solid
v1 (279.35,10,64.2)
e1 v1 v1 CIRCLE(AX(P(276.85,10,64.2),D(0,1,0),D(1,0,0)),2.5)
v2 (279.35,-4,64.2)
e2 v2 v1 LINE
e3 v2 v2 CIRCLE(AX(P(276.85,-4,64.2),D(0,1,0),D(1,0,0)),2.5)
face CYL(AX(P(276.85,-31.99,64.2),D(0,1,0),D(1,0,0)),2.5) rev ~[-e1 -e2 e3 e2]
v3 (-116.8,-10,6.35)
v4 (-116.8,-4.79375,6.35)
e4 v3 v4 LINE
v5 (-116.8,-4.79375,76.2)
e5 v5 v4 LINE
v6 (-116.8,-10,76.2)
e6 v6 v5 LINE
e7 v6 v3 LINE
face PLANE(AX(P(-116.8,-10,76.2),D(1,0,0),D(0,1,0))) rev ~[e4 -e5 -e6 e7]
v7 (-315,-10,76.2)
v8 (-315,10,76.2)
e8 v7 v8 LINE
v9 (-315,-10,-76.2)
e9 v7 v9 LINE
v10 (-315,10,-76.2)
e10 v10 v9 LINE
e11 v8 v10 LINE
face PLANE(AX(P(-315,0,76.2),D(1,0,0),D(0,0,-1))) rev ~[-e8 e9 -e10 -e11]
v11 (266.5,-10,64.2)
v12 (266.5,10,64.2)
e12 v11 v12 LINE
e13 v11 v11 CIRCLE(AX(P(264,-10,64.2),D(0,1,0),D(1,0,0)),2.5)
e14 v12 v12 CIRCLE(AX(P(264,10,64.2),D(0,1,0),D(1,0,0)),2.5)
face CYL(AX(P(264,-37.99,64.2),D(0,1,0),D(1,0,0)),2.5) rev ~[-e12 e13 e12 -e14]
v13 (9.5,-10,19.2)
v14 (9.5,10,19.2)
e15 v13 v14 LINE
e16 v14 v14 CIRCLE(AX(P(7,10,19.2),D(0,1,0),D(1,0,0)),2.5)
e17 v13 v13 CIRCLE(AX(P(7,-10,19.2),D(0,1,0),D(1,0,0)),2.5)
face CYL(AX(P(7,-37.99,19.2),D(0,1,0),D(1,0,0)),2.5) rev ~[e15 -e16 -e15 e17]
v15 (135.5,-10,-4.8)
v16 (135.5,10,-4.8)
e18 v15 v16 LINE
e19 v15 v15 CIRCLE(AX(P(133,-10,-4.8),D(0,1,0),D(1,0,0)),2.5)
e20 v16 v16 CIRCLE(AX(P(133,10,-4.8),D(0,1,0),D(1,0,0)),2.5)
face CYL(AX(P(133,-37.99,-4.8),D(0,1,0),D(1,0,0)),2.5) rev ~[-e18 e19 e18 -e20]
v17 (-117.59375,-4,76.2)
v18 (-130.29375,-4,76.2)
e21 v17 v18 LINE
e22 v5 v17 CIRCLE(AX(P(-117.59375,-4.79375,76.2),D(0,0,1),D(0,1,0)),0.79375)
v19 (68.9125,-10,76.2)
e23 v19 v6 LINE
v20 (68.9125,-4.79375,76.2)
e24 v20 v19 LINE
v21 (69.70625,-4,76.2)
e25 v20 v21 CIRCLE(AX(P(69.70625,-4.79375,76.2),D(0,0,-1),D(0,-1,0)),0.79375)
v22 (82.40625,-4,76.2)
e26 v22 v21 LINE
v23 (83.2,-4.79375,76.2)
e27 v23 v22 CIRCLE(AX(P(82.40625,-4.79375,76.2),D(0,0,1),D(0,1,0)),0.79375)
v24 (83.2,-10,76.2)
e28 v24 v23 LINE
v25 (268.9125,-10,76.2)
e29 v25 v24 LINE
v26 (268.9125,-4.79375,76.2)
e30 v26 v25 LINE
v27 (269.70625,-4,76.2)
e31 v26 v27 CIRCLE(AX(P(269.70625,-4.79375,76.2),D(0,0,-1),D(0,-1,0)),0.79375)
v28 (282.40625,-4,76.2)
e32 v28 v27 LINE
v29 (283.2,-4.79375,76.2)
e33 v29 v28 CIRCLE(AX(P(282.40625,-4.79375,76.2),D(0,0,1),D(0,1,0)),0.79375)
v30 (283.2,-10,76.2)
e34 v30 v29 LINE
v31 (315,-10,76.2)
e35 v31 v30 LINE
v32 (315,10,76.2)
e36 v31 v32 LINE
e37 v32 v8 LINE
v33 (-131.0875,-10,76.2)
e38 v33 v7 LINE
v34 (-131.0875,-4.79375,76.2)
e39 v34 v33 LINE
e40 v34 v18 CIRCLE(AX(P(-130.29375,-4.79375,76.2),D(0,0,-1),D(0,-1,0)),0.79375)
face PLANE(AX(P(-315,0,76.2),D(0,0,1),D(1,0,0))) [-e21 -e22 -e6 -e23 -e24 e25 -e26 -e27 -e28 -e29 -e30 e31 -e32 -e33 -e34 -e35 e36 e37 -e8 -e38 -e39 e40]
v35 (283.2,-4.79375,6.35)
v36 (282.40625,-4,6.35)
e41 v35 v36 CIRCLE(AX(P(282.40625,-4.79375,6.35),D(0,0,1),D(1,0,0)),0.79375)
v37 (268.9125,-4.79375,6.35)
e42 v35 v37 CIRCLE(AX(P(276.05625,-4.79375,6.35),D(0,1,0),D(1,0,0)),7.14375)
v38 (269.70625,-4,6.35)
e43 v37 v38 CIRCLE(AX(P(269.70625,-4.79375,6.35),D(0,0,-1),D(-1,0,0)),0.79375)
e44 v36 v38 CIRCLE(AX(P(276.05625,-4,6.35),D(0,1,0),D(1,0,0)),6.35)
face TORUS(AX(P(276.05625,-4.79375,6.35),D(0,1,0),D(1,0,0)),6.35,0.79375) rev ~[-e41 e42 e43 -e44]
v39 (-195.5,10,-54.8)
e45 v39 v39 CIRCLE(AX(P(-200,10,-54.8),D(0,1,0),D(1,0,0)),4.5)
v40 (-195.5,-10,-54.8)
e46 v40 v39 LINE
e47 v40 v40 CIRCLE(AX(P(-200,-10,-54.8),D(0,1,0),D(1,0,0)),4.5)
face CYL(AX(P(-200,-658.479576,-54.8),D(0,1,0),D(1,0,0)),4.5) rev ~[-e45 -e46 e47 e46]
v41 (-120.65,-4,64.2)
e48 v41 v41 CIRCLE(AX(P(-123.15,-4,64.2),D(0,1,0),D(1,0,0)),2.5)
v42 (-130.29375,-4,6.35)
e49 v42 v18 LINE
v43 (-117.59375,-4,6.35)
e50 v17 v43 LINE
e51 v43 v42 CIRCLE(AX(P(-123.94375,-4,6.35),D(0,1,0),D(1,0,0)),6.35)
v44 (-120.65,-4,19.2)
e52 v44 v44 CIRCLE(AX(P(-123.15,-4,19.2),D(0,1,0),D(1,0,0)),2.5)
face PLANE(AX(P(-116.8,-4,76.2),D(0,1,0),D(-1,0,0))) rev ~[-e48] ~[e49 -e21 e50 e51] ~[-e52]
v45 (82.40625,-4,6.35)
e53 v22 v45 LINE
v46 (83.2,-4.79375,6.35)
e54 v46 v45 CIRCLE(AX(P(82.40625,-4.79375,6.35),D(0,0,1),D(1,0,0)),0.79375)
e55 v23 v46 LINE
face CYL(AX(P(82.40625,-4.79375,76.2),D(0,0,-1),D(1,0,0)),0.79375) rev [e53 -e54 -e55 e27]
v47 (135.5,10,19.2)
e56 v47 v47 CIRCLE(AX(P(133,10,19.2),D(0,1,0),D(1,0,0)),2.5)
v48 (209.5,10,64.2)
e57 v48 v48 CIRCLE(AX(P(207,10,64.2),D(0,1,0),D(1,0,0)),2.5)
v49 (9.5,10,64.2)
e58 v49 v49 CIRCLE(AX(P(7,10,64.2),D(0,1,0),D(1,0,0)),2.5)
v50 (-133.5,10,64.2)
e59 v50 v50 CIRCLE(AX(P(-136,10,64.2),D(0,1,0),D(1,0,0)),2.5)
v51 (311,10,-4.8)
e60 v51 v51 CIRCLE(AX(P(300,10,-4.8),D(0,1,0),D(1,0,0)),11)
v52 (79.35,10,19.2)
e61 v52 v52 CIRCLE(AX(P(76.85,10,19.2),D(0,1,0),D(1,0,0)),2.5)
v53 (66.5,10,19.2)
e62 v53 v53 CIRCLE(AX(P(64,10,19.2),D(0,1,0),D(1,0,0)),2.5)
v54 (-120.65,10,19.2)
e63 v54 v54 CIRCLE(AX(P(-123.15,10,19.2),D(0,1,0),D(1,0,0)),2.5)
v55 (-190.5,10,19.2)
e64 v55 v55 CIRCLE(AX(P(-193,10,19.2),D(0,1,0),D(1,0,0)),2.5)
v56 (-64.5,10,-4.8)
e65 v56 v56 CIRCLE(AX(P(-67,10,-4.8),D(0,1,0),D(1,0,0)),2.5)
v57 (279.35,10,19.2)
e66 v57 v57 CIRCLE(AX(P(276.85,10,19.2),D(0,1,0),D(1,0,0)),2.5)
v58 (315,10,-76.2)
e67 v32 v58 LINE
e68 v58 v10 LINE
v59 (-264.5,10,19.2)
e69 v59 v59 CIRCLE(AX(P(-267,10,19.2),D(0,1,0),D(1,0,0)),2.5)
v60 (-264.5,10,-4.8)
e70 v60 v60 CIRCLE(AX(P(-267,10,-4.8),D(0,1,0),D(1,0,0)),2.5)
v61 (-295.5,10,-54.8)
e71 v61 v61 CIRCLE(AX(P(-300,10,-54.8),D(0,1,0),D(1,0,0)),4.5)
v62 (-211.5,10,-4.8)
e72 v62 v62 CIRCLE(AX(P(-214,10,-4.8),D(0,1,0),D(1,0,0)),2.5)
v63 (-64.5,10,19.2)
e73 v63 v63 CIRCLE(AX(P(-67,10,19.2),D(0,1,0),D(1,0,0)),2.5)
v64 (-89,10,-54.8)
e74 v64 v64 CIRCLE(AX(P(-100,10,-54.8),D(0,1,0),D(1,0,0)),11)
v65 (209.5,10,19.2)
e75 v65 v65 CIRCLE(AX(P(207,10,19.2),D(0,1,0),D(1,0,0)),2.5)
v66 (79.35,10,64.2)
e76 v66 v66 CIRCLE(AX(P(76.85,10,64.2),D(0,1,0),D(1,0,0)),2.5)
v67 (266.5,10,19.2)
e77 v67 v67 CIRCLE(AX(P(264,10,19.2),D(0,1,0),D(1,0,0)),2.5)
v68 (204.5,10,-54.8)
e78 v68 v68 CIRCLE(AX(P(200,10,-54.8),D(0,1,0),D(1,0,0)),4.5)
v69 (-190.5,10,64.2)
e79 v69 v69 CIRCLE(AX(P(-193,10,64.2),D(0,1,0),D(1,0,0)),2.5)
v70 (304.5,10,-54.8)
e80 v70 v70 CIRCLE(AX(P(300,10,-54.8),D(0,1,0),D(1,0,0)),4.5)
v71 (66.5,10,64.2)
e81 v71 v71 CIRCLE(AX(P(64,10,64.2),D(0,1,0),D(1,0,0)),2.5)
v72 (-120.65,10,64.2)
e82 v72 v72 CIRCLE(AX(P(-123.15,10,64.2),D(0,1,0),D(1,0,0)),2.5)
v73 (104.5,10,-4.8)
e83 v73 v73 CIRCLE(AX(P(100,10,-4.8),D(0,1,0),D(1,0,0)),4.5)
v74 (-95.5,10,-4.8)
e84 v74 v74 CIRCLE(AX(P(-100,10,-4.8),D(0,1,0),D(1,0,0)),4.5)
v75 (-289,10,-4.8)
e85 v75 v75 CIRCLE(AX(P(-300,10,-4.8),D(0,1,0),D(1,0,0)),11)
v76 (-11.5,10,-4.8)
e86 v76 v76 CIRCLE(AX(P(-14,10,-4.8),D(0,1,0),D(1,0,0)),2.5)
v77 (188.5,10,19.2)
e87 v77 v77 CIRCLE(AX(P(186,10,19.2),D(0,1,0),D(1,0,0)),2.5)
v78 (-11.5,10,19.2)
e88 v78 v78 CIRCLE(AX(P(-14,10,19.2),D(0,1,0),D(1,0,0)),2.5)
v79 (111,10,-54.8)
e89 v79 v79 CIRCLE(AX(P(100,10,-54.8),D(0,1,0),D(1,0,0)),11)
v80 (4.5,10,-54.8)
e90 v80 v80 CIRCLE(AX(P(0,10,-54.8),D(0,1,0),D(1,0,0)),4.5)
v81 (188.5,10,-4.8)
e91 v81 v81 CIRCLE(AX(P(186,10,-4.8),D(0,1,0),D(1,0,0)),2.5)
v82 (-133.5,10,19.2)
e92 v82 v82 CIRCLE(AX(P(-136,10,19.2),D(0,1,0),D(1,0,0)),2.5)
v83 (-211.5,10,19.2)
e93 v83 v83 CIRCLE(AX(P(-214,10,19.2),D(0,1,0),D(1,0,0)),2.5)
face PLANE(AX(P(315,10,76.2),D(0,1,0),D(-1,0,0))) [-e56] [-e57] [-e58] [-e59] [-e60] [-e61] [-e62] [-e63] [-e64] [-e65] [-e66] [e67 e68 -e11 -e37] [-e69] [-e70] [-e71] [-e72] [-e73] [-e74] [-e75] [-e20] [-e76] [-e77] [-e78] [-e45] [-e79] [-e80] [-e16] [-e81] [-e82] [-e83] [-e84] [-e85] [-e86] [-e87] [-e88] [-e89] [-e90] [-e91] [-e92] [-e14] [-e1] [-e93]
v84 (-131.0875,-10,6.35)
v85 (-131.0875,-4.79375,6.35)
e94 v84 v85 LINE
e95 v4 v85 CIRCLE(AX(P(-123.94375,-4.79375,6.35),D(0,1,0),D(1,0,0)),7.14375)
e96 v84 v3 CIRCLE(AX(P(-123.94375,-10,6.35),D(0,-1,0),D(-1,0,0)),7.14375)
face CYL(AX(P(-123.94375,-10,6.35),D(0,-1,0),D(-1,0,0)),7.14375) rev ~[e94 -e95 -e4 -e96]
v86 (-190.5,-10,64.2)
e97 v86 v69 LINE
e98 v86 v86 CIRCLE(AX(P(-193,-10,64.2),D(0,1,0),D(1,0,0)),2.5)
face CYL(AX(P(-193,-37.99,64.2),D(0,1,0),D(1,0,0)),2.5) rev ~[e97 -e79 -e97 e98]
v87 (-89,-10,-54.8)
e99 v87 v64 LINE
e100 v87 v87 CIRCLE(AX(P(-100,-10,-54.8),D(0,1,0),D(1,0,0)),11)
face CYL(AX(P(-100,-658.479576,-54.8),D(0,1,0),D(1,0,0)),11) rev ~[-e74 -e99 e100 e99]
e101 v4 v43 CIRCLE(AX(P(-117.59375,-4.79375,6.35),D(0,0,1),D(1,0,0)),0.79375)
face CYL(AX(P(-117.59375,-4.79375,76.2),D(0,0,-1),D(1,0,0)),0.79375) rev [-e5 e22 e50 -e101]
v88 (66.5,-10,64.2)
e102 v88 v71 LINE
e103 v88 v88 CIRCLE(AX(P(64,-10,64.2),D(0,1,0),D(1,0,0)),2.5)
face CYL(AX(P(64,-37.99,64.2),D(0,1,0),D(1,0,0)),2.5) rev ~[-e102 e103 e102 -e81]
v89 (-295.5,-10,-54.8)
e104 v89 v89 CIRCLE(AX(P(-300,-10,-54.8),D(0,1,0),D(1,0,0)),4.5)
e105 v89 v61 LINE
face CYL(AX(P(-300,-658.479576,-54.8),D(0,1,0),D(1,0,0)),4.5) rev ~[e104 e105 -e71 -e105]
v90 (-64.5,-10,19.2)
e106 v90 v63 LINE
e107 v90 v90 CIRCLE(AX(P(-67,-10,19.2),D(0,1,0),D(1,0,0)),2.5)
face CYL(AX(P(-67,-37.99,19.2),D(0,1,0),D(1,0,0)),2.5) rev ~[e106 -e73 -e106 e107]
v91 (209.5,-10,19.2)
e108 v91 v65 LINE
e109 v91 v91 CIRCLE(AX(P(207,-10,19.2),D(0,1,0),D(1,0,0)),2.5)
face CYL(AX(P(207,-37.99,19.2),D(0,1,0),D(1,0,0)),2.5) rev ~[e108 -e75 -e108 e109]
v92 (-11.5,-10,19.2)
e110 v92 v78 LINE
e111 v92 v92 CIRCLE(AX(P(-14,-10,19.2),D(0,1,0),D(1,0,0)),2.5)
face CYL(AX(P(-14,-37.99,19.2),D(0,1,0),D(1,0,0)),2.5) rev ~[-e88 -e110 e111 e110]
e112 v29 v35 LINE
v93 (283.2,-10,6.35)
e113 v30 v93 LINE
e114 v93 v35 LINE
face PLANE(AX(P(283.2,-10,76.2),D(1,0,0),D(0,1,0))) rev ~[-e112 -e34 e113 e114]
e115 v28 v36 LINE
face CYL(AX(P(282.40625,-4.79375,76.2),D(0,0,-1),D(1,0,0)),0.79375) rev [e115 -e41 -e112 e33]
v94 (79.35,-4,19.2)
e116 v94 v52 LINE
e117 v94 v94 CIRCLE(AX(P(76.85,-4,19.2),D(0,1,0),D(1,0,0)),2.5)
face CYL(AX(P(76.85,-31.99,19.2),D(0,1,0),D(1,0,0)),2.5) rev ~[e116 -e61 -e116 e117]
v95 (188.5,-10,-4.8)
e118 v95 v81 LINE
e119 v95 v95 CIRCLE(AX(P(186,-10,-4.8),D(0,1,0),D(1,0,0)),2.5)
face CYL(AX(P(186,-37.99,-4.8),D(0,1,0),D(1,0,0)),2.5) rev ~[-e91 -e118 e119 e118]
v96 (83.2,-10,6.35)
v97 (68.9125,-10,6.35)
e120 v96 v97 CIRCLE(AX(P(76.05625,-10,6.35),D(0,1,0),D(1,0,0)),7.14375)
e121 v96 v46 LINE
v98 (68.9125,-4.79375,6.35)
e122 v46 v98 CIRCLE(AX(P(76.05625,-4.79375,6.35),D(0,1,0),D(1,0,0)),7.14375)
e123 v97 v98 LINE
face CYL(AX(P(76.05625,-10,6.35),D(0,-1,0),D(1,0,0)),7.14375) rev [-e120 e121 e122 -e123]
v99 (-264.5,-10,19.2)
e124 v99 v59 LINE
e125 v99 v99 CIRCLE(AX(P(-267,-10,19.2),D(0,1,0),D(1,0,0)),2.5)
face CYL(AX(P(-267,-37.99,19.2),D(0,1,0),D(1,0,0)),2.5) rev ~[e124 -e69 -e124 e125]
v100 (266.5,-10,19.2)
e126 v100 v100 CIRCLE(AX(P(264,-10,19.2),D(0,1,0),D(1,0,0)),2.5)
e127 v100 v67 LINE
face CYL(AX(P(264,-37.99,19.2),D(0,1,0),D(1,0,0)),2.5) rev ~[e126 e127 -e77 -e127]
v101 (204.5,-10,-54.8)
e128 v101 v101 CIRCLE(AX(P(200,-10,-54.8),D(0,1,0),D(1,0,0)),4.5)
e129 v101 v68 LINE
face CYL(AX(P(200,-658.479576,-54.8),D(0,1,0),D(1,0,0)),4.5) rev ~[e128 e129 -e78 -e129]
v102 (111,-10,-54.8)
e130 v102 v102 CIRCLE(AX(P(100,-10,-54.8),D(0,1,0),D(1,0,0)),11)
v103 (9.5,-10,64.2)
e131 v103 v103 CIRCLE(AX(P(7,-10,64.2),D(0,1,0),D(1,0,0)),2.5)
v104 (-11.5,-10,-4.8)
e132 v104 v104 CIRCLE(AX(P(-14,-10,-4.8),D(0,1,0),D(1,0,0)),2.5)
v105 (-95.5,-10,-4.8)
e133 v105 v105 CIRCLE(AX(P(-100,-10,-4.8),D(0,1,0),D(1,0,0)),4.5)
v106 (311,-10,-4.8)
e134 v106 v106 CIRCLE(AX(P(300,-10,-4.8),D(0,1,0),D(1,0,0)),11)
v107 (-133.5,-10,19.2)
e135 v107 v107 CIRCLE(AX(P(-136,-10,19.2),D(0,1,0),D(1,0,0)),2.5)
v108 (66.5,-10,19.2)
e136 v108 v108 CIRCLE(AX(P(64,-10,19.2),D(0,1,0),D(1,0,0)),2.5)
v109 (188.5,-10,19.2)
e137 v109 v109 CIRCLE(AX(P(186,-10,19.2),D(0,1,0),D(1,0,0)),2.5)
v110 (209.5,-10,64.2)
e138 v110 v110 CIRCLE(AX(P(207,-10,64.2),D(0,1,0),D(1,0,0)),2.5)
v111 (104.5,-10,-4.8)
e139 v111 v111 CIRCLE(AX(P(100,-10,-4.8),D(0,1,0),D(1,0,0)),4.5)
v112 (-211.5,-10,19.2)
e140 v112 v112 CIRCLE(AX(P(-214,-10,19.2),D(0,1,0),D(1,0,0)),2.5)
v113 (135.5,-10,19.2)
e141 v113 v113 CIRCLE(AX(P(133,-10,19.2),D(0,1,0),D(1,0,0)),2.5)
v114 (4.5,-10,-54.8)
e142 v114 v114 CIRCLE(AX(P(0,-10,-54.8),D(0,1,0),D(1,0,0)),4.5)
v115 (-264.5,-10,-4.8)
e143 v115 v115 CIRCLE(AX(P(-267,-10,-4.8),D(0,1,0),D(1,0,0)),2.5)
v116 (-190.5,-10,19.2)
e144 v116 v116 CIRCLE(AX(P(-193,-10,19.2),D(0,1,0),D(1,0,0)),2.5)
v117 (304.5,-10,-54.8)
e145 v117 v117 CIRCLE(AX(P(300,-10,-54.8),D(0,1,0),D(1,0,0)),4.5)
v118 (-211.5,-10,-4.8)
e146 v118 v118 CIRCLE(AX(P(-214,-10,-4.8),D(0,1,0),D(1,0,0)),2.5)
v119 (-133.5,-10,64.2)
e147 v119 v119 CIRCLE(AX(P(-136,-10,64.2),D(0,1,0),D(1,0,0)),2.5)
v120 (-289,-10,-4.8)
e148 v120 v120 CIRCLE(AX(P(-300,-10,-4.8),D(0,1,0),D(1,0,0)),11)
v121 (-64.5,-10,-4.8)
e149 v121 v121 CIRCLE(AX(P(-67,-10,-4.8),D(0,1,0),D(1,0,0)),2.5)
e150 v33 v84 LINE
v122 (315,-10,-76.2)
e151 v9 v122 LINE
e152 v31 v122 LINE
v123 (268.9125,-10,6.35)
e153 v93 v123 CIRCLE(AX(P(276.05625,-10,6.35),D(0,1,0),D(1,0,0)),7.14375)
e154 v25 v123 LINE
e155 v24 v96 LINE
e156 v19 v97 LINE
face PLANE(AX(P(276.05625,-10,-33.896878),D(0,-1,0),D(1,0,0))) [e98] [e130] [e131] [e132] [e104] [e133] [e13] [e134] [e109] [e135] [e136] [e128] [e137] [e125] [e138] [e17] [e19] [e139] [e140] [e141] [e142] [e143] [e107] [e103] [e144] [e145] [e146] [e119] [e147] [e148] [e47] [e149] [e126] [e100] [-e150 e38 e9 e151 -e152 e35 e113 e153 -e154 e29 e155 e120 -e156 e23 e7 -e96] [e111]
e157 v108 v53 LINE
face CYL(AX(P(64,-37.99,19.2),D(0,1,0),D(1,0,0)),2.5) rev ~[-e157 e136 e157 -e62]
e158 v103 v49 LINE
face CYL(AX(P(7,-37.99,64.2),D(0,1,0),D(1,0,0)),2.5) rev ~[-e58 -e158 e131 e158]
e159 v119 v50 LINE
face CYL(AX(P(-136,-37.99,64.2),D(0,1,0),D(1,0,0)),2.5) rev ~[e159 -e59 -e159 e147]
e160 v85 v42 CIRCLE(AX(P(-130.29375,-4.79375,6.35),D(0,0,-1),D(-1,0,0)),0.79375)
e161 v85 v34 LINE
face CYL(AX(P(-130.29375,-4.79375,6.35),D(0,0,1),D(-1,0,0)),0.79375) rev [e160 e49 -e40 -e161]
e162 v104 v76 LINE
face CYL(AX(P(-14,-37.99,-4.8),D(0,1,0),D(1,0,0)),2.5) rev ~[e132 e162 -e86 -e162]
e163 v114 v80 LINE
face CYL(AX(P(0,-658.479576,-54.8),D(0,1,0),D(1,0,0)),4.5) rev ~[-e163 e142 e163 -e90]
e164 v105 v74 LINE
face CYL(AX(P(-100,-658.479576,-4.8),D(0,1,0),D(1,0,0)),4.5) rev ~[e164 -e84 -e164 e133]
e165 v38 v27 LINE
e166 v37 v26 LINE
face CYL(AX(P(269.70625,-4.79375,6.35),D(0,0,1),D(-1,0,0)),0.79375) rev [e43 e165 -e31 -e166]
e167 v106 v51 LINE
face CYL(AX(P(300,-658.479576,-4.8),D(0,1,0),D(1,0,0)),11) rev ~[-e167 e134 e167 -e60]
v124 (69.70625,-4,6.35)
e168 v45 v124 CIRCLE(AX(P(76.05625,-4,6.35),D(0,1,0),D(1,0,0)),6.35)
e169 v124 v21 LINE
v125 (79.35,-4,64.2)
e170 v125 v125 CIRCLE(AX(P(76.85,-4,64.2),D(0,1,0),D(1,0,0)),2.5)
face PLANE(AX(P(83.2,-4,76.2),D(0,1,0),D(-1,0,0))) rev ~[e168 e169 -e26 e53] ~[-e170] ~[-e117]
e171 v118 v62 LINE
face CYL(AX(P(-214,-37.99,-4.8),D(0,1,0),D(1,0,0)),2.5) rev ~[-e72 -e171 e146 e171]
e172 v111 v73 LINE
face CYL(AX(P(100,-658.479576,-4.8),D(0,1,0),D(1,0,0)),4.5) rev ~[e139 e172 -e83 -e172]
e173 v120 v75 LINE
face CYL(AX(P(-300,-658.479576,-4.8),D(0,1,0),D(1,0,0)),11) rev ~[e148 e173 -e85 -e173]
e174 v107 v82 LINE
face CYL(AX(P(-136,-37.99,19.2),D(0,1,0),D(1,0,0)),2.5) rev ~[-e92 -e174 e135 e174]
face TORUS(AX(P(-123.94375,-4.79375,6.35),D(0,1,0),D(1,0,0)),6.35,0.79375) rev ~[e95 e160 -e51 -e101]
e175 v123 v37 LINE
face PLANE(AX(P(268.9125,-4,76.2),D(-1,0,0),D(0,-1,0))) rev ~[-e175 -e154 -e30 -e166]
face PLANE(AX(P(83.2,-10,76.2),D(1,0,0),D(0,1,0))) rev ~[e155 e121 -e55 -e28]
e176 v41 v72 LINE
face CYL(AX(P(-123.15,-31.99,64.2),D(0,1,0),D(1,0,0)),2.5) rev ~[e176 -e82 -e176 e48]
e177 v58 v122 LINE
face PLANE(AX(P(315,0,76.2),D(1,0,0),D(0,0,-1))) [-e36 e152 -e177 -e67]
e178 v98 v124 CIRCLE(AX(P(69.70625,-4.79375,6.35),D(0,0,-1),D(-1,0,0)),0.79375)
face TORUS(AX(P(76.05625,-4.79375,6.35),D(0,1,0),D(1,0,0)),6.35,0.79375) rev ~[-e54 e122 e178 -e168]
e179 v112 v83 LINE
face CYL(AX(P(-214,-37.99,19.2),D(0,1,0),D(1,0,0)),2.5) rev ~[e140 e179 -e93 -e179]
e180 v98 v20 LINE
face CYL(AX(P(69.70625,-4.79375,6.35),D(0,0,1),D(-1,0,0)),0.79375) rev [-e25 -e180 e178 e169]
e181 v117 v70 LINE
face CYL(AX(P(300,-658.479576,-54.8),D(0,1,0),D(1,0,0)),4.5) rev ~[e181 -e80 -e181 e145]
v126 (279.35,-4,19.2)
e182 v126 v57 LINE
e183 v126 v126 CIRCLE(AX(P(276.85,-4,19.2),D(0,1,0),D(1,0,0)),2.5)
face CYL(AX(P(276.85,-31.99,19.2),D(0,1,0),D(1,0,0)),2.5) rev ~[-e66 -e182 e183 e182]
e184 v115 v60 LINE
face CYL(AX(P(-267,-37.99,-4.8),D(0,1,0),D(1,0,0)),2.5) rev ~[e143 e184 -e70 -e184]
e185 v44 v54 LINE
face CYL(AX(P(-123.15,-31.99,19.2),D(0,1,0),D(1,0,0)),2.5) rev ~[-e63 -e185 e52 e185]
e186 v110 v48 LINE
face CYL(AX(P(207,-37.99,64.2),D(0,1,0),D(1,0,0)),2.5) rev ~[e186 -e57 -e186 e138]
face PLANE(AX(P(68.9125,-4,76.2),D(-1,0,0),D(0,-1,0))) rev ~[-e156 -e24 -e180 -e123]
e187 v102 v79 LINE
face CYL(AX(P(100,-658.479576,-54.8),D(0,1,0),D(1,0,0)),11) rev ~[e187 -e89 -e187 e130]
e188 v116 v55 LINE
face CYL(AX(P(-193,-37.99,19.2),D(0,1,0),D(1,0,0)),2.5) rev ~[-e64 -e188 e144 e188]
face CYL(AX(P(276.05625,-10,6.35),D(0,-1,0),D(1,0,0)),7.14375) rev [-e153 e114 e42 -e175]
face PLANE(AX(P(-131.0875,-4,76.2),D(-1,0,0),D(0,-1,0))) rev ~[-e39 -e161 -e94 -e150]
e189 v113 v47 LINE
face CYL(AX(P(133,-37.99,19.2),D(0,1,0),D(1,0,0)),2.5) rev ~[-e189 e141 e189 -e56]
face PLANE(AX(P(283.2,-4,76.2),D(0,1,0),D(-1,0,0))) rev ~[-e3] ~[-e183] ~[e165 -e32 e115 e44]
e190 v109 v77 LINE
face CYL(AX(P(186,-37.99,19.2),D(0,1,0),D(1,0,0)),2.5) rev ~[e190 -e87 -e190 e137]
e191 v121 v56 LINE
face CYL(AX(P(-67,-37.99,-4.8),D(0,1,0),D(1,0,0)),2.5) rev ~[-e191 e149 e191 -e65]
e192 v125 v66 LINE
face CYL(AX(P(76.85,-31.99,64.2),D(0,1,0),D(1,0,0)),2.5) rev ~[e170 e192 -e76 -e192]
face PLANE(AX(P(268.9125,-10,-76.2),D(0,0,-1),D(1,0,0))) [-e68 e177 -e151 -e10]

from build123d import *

# Parameters (mm, degrees)
SKETCH1_W             = 630
SKETCH1_H             = 152.4
BOSS_EXTRUDE1_DEPTH   = 12.7
SKETCH8_W             = 630
SKETCH8_H             = 2.7
CUT_EXTRUDE1_DEPTH    = 351.160034841
BOSS_EXTRUDE2_REACH   = 326.702
M8_CLEARANCE_HOLE1_D  = 9
M20_CLEARANCE_HOLE1_D = 22
M6_TAPPED_HOLE2_D     = 5
M6_TAPPED_HOLE2_DEPTH = 27.99
M6_TAPPED_HOLE2_TIP   = 1.502151548
M6_TAPPED_HOLE5_D     = 5
M6_TAPPED_HOLE5_DEPTH = 27.99
M6_TAPPED_HOLE5_TIP   = 1.502151548
M6_TAPPED_HOLE6_D     = 5
M6_TAPPED_HOLE6_DEPTH = 27.99
M6_TAPPED_HOLE6_TIP   = 1.502151548
M6_TAPPED_HOLE3_D     = 5
M6_TAPPED_HOLE3_DEPTH = 27.99
M6_TAPPED_HOLE3_TIP   = 1.502151548
M6_TAPPED_HOLE7_D     = 5
M6_TAPPED_HOLE7_DEPTH = 27.99
M6_TAPPED_HOLE7_TIP   = 1.502151548
M6_TAPPED_HOLE8_D     = 5
M6_TAPPED_HOLE8_DEPTH = 27.99
M6_TAPPED_HOLE8_TIP   = 1.502151548
FILLET1_R             = 0.79375


with BuildPart() as part:
    # Sketch1 → Boss-Extrude1 (new, symmetric)
    with BuildSketch(Plane(origin=(0, 0, 0), x_dir=(1, 0, 0), z_dir=(0, 1, 0))):
        Rectangle(SKETCH1_W, SKETCH1_H)
    extrude(amount=BOSS_EXTRUDE1_DEPTH, both=True)

    # Sketch8 → Cut-Extrude1 (cut, through all)
    with BuildSketch(Plane(origin=(0, 0, 76.2), x_dir=(-1, 0, 0), z_dir=(0, 0, -1))):
        Polygon((-83.2, -10), (-83.2, -4), (-68.9125, -4), (-68.9125, -10), (116.8, -10), (116.8, -4), (131.0875, -4), (131.0875, -10), (315, -10), (315, -12.7), (-315, -12.7), (-315, -10), (-283.2, -10), (-283.2, -4), (-268.9125, -4), (-268.9125, -10), align=None)
        with Locations((0, 11.35)):
            Rectangle(SKETCH8_W, SKETCH8_H)
    extrude(amount=CUT_EXTRUDE1_DEPTH, mode=Mode.SUBTRACT)

    # Sketch23 → Boss-Extrude2 (add, up to next)
    with BuildSketch(Plane.XZ.offset(10), mode=Mode.PRIVATE) as boss_extrude2_sk1:
        with BuildLine():
            Line((-116.8, 6.35), (-116.8, -76.2))
            Line((-116.8, -76.2), (-131.0875, -76.2))
            Line((-131.0875, -76.2), (-131.0875, 6.35))
            ThreePointArc((-131.0875, 6.35), (-123.94375, -0.79375), (-116.8, 6.35))
        make_face()
    boss_extrude2_tool1 = extrude(boss_extrude2_sk1.sketch, amount=-BOSS_EXTRUDE2_REACH, mode=Mode.PRIVATE) - part.part
    # Sketch23 → Boss-Extrude2 (add, up to next)
    with BuildSketch(Plane.XZ.offset(10), mode=Mode.PRIVATE) as boss_extrude2_sk2:
        with BuildLine():
            Line((68.9125, 6.35), (68.9125, -76.2))
            Line((68.9125, -76.2), (83.2, -76.2))
            Line((83.2, -76.2), (83.2, 6.35))
            ThreePointArc((83.2, 6.35), (76.05625, -0.79375), (68.9125, 6.35))
        make_face()
    boss_extrude2_tool2 = extrude(boss_extrude2_sk2.sketch, amount=-BOSS_EXTRUDE2_REACH, mode=Mode.PRIVATE) - part.part
    # Sketch23 → Boss-Extrude2 (add, up to next)
    with BuildSketch(Plane.XZ.offset(10), mode=Mode.PRIVATE) as boss_extrude2_sk3:
        with BuildLine():
            Line((268.9125, 6.35), (268.9125, -76.2))
            Line((268.9125, -76.2), (283.2, -76.2))
            Line((283.2, -76.2), (283.2, 6.35))
            ThreePointArc((283.2, 6.35), (276.05625, -0.79375), (268.9125, 6.35))
        make_face()
    boss_extrude2_tool3 = extrude(boss_extrude2_sk3.sketch, amount=-BOSS_EXTRUDE2_REACH, mode=Mode.PRIVATE) - part.part
    add(boss_extrude2_tool1.solids().sort_by_distance((-123.94375, -10, -37.713823))[0])
    add(boss_extrude2_tool2.solids().sort_by_distance((76.05625, -10, -37.713823))[0])
    add(boss_extrude2_tool3.solids().sort_by_distance((276.05625, -10, -37.713823))[0])

    # M8 Clearance Hole1 (through all)
    with Locations(Plane(origin=(-252.085824098, -10, 54.789326217), x_dir=(-1, 0, 0), z_dir=(0, -1, 0))):
        with Locations((47.914175902, 109.589326217), (-52.085824098, 109.589326217), (-152.085824098, 59.589326217), (-252.085824098, 109.589326217), (-352.085824098, 59.589326217), (-452.085824098, 109.589326217), (-552.085824098, 109.589326217)):
            Hole(M8_CLEARANCE_HOLE1_D / 2)

    # M20 Clearance Hole1 (through all)
    with Locations(Plane(origin=(-106.699185936, -10, 17.134873145), x_dir=(-1, 0, 0), z_dir=(0, -1, 0))):
        with Locations((193.300814064, 21.934873145), (-406.699185936, 21.934873145), (-206.699185936, 71.934873145), (-6.699185936, 71.934873145)):
            Hole(M20_CLEARANCE_HOLE1_D / 2)

    # M6 Tapped Hole2
    with Locations(Plane(origin=(-22.829775721, -10, 14.438586314), x_dir=(-1, 0, 0), z_dir=(0, -1, 0))):
        with Locations((-155.829775721, -4.761413686), (-208.829775721, 19.238586314), (-155.829775721, 19.238586314), (-208.829775721, -4.761413686), (-229.829775721, -49.761413686), (-286.829775721, -4.761413686), (-229.829775721, -4.761413686), (-286.829775721, -49.761413686)):
            Hole(M6_TAPPED_HOLE2_D / 2, depth=M6_TAPPED_HOLE2_DEPTH)
            with Locations((0, 0, -(M6_TAPPED_HOLE2_DEPTH + M6_TAPPED_HOLE2_TIP / 2))):  # 118° drill point
                Cone(0, M6_TAPPED_HOLE2_D / 2, M6_TAPPED_HOLE2_TIP, mode=Mode.SUBTRACT)

    # M6 Tapped Hole5
    with Locations(Plane(origin=(0, -10, 0), x_dir=(-1, 0, 0), z_dir=(0, -1, 0))):
        with Locations((14, 4.8), (67, -19.2), (14, -19.2), (67, 4.8), (-64, -19.2), (-7, -64.2), (-64, -64.2), (-7, -19.2)):
            Hole(M6_TAPPED_HOLE5_D / 2, depth=M6_TAPPED_HOLE5_DEPTH)
            with Locations((0, 0, -(M6_TAPPED_HOLE5_DEPTH + M6_TAPPED_HOLE5_TIP / 2))):  # 118° drill point
                Cone(0, M6_TAPPED_HOLE5_D / 2, M6_TAPPED_HOLE5_TIP, mode=Mode.SUBTRACT)

    # M6 Tapped Hole6
    with Locations(Plane(origin=(0, -10, 0), x_dir=(-1, 0, 0), z_dir=(0, -1, 0))):
        with Locations((136, -19.2), (193, -64.2), (136, -64.2), (193, -19.2), (214, 4.8), (267, -19.2), (214, -19.2), (267, 4.8)):
            Hole(M6_TAPPED_HOLE6_D / 2, depth=M6_TAPPED_HOLE6_DEPTH)
            with Locations((0, 0, -(M6_TAPPED_HOLE6_DEPTH + M6_TAPPED_HOLE6_TIP / 2))):  # 118° drill point
                Cone(0, M6_TAPPED_HOLE6_D / 2, M6_TAPPED_HOLE6_TIP, mode=Mode.SUBTRACT)

    # M6 Tapped Hole3
    with Locations(Plane(origin=(0, -4, 0), x_dir=(-1, 0, 0), z_dir=(0, -1, 0))):
        with Locations((-276.85, -19.2), (-276.85, -64.2)):
            Hole(M6_TAPPED_HOLE3_D / 2, depth=M6_TAPPED_HOLE3_DEPTH)
            with Locations((0, 0, -(M6_TAPPED_HOLE3_DEPTH + M6_TAPPED_HOLE3_TIP / 2))):  # 118° drill point
                Cone(0, M6_TAPPED_HOLE3_D / 2, M6_TAPPED_HOLE3_TIP, mode=Mode.SUBTRACT)

    # M6 Tapped Hole7
    with Locations(Plane(origin=(0, -4, 0), x_dir=(-1, 0, 0), z_dir=(0, -1, 0))):
        with Locations((-76.85, -19.2), (-76.85, -64.2)):
            Hole(M6_TAPPED_HOLE7_D / 2, depth=M6_TAPPED_HOLE7_DEPTH)
            with Locations((0, 0, -(M6_TAPPED_HOLE7_DEPTH + M6_TAPPED_HOLE7_TIP / 2))):  # 118° drill point
                Cone(0, M6_TAPPED_HOLE7_D / 2, M6_TAPPED_HOLE7_TIP, mode=Mode.SUBTRACT)

    # M6 Tapped Hole8
    with Locations(Plane(origin=(0, -4, 0), x_dir=(-1, 0, 0), z_dir=(0, -1, 0))):
        with Locations((123.15, -19.2), (123.15, -64.2)):
            Hole(M6_TAPPED_HOLE8_D / 2, depth=M6_TAPPED_HOLE8_DEPTH)
            with Locations((0, 0, -(M6_TAPPED_HOLE8_DEPTH + M6_TAPPED_HOLE8_TIP / 2))):  # 118° drill point
                Cone(0, M6_TAPPED_HOLE8_D / 2, M6_TAPPED_HOLE8_TIP, mode=Mode.SUBTRACT)

    # Fillet1
    fillet1_edges = [part.edges().sort_by_distance(p)[0] for p in [
        (283.2, -4, 41.275),
        (268.9125, -4, 41.275),
        (276.05625, -4, -0.79375),
        (-116.8, -4, 41.275),
        (-131.0875, -4, 41.275),
        (-123.94375, -4, -0.79375),
        (83.2, -4, 41.275),
        (68.9125, -4, 41.275),
        (76.05625, -4, -0.79375),
    ]]
    fillet(fillet1_edges, radius=FILLET1_R)


solid = part.part
